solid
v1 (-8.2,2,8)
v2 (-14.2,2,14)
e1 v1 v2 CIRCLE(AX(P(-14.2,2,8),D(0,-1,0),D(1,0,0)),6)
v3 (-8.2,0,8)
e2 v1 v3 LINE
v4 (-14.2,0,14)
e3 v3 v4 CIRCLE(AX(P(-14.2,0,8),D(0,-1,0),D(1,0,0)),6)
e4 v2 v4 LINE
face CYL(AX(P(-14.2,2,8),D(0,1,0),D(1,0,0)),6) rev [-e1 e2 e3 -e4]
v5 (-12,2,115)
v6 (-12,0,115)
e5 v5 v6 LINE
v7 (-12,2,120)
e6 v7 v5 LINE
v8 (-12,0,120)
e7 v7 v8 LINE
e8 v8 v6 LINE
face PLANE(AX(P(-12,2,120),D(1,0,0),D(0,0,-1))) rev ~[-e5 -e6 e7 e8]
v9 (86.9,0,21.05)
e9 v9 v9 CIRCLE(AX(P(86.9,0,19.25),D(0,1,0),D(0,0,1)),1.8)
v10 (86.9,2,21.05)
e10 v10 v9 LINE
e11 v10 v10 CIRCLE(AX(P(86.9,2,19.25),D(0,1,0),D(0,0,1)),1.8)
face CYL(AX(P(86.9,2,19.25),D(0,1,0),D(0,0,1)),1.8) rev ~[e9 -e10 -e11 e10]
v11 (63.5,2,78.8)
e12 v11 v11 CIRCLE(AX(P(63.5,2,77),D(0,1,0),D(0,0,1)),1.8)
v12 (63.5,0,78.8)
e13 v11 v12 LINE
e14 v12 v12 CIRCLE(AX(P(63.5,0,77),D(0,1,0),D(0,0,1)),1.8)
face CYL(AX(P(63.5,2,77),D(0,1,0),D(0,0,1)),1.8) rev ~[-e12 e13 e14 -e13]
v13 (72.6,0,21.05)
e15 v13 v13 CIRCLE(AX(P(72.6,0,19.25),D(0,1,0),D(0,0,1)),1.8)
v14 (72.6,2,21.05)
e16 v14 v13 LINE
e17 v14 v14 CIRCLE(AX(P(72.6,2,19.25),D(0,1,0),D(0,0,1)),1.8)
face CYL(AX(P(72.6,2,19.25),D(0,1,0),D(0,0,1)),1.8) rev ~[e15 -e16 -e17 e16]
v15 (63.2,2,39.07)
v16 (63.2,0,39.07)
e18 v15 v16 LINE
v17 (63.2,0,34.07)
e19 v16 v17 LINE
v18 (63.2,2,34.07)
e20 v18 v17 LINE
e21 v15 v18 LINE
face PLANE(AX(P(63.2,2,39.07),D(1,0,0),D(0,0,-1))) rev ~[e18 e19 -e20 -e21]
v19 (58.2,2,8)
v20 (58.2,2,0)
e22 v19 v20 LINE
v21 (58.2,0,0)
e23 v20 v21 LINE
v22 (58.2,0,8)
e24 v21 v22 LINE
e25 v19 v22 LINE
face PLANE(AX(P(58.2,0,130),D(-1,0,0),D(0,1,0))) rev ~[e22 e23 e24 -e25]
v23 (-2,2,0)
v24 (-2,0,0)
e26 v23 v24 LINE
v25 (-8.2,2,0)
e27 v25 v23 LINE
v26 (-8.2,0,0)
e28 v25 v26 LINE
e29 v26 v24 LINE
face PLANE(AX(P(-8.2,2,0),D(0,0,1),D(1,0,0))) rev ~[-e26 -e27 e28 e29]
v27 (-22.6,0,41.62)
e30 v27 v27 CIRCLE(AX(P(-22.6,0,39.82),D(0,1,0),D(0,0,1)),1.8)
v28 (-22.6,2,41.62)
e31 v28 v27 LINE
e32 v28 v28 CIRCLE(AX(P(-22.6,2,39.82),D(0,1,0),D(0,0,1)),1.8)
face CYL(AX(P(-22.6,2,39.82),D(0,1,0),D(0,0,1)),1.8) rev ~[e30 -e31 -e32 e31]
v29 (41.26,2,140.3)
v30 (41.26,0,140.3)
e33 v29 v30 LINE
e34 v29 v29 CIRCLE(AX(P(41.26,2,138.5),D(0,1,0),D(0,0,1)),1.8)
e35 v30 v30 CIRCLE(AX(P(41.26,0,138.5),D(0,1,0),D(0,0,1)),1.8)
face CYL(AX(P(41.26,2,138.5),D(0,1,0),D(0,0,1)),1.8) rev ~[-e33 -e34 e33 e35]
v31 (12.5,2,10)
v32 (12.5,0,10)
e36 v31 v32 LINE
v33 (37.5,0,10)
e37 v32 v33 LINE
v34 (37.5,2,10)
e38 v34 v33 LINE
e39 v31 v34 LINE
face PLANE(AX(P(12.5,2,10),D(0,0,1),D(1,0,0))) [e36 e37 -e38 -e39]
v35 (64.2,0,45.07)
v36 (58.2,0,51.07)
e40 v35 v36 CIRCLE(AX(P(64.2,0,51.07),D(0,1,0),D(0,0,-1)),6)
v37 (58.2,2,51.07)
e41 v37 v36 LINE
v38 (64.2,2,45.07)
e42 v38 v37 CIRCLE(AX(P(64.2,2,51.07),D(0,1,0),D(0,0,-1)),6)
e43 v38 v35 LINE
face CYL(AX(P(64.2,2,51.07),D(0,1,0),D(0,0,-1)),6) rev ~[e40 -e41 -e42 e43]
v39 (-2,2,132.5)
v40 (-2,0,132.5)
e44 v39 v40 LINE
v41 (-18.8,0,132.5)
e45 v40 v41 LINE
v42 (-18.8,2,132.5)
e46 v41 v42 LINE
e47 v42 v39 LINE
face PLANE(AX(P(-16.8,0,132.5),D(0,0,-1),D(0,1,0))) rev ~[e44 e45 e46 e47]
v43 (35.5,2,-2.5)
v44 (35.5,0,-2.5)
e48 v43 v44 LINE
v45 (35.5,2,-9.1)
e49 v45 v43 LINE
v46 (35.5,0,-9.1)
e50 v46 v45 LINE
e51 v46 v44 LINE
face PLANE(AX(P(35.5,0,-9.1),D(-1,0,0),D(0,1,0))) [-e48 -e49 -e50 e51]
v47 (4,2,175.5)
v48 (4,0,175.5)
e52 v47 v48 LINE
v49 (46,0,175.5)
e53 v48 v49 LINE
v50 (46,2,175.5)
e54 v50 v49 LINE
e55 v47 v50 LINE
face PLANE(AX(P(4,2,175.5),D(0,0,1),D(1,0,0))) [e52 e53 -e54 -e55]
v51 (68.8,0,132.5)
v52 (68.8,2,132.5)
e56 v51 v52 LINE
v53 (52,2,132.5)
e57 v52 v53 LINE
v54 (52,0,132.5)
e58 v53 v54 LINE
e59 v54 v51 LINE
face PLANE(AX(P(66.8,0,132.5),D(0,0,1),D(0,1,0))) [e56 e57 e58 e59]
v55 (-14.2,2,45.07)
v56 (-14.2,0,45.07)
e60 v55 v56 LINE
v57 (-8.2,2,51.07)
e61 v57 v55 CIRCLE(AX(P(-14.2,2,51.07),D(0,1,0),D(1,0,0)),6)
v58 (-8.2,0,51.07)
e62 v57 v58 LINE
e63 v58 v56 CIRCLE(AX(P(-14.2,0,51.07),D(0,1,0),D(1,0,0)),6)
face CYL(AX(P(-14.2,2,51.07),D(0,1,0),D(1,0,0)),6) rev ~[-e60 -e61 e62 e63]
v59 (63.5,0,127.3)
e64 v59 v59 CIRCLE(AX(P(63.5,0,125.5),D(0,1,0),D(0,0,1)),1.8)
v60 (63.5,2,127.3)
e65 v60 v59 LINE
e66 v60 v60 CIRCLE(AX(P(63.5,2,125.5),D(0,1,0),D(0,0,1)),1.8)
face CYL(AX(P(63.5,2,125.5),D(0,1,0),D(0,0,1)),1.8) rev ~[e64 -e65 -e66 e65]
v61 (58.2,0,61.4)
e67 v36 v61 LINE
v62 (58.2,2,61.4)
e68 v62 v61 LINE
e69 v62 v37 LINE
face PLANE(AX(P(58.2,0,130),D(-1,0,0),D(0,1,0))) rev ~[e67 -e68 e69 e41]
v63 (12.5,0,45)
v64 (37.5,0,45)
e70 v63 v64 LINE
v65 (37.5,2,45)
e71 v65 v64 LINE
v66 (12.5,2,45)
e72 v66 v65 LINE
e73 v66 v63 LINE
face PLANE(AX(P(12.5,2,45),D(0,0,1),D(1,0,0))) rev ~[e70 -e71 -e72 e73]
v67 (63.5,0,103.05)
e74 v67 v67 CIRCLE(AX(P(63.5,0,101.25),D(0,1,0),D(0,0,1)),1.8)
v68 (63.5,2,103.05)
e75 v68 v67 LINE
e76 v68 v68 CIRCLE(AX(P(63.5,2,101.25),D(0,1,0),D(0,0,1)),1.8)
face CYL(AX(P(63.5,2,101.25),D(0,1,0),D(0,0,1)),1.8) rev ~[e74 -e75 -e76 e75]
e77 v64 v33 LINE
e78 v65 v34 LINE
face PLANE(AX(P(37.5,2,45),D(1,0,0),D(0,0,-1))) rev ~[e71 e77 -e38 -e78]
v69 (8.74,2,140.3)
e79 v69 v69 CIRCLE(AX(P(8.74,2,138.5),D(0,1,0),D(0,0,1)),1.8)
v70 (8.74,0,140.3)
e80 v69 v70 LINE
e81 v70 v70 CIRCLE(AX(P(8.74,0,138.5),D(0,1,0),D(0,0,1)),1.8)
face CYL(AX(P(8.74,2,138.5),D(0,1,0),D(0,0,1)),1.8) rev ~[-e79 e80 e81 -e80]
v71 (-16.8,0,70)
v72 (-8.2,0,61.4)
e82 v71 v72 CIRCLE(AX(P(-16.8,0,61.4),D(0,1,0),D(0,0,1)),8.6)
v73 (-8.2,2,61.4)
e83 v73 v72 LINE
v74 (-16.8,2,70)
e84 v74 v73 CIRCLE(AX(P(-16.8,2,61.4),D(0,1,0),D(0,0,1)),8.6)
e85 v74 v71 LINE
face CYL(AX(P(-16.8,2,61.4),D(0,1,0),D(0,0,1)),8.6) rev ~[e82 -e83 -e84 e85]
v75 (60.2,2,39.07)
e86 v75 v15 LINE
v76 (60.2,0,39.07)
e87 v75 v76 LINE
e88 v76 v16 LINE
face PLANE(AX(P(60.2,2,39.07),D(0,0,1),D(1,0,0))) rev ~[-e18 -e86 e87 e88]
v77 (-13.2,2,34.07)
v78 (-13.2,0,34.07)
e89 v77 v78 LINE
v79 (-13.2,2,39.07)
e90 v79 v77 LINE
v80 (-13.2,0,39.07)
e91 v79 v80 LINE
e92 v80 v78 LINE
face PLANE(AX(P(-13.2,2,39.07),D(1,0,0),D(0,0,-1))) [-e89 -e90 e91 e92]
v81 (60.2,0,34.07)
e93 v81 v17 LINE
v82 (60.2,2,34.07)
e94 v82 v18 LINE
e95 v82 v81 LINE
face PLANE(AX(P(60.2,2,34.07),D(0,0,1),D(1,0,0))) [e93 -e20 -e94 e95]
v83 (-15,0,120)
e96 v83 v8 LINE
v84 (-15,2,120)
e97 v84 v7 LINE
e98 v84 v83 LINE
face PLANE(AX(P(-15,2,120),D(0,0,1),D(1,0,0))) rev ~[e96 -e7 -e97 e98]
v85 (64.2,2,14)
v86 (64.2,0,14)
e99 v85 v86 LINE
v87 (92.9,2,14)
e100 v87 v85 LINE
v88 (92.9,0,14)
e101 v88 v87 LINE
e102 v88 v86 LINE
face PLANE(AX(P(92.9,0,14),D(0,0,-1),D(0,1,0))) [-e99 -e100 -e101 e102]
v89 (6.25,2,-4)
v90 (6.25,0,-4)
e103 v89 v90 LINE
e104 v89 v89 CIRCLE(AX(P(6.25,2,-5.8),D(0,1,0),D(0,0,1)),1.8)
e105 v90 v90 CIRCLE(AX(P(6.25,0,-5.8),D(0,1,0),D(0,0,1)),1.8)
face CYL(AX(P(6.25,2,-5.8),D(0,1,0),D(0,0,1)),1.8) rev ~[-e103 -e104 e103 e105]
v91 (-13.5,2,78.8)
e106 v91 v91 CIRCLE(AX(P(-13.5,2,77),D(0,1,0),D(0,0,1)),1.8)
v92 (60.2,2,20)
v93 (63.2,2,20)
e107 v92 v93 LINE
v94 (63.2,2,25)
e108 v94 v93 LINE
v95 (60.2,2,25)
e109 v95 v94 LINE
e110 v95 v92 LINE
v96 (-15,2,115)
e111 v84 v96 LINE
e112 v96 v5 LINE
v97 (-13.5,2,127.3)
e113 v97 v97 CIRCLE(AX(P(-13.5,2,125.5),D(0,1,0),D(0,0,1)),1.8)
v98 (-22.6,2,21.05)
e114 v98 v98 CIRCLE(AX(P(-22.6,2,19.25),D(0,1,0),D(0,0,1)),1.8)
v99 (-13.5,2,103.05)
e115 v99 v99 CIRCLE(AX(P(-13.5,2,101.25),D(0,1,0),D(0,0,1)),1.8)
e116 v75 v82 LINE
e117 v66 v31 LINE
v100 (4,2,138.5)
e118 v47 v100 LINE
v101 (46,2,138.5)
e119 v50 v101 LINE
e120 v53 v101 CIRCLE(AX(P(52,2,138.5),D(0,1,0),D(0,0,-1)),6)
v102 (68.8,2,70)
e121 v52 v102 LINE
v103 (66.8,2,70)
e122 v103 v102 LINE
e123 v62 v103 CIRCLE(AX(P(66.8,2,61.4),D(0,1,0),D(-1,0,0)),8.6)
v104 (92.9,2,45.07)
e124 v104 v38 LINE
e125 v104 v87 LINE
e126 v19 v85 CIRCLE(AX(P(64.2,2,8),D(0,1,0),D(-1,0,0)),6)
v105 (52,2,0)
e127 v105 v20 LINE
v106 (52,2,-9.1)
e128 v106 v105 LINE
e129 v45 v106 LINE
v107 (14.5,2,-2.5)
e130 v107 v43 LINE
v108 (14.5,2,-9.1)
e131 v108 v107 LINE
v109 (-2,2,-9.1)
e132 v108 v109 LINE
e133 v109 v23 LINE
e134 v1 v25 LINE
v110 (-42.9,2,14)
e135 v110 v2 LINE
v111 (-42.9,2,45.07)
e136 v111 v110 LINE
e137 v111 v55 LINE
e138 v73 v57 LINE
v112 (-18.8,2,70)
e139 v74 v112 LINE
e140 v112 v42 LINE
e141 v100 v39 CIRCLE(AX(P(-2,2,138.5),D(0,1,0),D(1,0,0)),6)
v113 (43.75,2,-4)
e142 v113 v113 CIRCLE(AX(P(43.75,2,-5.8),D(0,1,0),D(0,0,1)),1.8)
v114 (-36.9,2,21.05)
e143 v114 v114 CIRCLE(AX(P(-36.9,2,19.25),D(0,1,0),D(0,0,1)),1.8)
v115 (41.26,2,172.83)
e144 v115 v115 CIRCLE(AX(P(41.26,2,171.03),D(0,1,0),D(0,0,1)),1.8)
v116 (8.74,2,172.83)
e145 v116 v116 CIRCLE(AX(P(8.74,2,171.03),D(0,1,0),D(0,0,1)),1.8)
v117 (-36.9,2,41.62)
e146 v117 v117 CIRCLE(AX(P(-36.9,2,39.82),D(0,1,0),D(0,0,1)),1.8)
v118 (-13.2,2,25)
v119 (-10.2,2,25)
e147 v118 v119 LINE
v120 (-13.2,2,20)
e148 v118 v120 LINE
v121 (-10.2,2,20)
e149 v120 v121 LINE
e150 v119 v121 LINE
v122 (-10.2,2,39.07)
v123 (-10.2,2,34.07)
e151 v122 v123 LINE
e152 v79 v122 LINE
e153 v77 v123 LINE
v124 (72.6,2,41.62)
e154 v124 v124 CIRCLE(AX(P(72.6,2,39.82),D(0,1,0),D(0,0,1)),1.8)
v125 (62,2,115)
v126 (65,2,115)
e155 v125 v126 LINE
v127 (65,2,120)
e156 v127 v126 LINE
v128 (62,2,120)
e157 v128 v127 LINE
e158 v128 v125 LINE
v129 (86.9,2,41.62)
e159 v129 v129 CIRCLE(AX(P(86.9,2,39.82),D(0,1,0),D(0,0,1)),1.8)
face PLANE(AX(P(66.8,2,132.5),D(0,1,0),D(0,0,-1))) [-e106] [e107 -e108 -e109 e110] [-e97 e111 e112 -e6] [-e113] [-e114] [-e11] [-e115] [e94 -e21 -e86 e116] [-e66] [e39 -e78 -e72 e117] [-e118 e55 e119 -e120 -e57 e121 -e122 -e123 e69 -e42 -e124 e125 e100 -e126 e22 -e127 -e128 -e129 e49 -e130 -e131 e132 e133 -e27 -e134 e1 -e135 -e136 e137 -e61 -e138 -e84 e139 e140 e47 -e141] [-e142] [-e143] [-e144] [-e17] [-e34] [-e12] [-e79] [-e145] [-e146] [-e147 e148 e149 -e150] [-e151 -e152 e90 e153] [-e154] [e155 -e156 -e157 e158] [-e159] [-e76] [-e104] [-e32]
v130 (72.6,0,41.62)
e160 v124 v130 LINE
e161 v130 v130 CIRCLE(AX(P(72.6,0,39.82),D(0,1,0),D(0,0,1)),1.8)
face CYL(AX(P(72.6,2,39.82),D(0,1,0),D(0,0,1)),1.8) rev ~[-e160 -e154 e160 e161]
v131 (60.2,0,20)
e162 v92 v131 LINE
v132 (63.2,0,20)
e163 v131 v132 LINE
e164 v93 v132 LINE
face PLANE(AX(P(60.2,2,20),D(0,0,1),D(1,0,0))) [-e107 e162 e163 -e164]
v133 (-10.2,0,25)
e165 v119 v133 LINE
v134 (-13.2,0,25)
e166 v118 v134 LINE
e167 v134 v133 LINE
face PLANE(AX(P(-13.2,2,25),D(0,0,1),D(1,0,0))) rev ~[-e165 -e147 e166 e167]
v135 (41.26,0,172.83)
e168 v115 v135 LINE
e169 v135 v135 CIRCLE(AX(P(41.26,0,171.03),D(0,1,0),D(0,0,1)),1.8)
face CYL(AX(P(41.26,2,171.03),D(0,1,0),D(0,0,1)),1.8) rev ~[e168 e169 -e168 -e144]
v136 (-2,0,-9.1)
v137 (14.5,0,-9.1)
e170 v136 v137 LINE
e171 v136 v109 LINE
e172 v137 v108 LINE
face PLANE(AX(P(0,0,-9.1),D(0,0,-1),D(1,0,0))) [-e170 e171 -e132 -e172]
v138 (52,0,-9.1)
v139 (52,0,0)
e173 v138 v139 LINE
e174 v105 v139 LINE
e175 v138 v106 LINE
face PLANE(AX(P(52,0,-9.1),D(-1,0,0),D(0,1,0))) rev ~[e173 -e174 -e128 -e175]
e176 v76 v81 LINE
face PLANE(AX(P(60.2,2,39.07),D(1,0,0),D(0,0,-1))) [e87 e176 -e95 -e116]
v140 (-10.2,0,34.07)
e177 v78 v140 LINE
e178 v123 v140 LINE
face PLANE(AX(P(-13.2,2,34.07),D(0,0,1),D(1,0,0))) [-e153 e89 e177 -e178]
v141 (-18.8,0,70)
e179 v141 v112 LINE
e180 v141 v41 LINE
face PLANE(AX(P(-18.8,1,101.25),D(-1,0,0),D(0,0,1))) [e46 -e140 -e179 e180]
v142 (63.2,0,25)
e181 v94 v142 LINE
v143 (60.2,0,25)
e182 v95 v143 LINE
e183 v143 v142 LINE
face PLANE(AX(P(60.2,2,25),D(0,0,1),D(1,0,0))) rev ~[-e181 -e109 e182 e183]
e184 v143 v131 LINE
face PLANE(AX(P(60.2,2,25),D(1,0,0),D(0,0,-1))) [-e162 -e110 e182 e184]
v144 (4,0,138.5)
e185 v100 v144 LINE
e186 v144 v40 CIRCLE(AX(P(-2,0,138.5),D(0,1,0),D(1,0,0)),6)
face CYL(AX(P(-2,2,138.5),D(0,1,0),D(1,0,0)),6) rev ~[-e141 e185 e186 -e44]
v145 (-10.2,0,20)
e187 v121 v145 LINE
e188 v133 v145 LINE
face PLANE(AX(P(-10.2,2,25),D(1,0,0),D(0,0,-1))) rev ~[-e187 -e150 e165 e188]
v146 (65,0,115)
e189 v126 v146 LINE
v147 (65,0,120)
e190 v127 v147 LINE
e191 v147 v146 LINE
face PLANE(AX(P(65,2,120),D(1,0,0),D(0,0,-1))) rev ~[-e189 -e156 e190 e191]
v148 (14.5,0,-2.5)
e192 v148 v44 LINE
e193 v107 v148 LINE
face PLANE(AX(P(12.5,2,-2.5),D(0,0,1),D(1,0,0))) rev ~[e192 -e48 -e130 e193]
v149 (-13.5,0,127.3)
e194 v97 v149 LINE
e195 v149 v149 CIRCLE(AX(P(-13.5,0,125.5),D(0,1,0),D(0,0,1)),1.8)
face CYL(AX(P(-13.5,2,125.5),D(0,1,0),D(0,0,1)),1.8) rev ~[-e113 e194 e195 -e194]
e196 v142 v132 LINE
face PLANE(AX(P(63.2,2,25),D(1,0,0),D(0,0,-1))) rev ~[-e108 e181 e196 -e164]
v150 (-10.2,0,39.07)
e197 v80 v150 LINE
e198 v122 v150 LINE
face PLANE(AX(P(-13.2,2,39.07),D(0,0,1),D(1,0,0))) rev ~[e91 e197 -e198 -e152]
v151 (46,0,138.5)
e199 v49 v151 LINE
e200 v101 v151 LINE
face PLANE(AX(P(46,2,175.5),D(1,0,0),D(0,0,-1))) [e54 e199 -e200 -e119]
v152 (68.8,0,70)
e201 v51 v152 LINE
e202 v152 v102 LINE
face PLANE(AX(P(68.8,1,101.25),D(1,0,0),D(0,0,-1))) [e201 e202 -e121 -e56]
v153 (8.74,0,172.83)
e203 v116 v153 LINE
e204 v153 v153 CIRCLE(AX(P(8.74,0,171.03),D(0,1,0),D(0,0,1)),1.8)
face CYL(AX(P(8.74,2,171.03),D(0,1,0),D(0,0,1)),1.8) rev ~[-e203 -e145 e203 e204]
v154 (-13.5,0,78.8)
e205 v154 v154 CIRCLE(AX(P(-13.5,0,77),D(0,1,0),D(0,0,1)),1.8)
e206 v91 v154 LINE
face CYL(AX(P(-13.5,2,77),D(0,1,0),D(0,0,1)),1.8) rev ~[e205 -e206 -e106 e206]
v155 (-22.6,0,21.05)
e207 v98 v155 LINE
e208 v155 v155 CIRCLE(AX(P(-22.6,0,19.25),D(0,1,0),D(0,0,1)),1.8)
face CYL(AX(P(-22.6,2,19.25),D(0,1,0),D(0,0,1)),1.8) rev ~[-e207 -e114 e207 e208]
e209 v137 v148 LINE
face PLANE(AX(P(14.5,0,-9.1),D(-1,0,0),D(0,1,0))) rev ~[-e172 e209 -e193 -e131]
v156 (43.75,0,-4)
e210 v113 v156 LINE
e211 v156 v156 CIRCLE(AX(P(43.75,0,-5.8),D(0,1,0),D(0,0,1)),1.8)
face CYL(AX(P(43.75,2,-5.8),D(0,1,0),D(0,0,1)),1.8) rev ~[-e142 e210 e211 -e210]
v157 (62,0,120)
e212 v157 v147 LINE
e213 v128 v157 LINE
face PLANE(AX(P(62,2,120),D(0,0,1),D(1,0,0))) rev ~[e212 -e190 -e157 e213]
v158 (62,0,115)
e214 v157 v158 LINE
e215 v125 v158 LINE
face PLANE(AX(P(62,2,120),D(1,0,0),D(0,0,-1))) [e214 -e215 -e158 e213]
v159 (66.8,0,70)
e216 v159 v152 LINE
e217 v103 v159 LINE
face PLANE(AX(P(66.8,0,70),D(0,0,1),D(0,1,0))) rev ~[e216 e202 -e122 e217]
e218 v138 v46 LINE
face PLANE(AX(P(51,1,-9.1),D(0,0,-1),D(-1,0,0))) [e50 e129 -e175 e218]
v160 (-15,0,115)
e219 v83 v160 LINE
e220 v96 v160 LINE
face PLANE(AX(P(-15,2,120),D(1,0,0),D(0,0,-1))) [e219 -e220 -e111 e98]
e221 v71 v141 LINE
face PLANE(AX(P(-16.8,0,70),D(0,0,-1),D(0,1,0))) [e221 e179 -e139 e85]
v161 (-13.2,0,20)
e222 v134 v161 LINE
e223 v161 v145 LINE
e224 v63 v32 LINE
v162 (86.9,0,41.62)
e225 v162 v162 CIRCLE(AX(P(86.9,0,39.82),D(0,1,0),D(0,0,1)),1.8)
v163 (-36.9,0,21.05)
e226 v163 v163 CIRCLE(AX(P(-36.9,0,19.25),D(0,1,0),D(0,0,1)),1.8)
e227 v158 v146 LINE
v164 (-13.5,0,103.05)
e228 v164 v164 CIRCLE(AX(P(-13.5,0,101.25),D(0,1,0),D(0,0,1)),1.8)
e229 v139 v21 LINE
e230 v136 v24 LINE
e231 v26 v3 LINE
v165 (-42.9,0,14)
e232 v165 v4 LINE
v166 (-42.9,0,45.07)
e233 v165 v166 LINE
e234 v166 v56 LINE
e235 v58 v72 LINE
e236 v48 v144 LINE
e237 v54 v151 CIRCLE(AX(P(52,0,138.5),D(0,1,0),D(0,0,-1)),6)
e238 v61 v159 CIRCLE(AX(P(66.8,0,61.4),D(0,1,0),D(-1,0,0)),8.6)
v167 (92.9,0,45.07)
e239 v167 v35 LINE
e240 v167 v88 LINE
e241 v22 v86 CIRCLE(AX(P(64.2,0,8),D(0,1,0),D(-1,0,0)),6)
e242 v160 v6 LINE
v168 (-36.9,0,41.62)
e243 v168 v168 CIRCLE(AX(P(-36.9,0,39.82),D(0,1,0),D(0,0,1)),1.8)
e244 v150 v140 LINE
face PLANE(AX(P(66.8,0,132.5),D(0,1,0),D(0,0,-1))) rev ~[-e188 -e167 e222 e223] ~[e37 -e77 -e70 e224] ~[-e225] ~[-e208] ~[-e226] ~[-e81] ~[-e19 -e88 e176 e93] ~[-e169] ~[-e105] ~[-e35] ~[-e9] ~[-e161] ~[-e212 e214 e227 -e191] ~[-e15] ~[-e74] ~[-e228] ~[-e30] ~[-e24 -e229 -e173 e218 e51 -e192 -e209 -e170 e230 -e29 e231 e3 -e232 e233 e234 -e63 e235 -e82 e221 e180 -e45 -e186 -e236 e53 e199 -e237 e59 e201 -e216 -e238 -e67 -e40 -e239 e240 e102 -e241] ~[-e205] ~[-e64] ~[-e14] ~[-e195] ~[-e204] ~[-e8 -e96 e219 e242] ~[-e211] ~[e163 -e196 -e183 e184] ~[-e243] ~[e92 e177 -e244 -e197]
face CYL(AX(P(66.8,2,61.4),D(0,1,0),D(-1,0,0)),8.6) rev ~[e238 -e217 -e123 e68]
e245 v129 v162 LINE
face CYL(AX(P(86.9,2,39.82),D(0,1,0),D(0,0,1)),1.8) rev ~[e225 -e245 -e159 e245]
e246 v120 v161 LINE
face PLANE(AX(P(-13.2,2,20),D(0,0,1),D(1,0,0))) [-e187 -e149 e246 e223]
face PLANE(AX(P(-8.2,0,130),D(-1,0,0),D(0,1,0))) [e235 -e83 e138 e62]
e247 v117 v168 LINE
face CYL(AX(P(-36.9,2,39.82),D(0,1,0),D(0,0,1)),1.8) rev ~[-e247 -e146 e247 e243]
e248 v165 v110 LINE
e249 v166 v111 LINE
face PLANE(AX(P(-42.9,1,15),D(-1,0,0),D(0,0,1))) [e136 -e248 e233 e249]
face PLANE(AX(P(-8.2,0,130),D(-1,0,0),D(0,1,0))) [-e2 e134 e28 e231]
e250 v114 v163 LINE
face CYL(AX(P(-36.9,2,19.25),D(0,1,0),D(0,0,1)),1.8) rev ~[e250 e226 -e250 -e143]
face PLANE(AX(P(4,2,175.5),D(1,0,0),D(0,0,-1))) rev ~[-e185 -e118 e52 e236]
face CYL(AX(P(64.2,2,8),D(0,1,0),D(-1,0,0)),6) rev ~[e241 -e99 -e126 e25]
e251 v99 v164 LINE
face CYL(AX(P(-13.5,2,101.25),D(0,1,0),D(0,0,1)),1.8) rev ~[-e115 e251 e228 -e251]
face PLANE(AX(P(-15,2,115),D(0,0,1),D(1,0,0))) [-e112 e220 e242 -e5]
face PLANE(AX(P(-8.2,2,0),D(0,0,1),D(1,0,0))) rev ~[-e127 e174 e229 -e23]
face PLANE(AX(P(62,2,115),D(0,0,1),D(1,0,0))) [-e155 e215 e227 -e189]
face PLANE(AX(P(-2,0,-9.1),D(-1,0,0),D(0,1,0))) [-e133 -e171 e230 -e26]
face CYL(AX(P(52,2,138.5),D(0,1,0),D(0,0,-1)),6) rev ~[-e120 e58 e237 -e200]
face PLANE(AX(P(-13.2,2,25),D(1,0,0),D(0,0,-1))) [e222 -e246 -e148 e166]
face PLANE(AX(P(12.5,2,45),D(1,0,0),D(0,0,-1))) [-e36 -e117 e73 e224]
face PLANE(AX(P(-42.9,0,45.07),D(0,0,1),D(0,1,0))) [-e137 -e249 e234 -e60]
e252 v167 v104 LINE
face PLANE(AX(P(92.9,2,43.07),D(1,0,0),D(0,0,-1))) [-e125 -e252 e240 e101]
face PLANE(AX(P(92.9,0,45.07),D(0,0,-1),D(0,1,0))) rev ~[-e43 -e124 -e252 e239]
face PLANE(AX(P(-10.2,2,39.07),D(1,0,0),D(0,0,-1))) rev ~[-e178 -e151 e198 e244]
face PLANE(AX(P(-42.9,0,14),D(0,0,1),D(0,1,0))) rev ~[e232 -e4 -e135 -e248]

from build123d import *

# Parameters (mm, degrees)
SKETCH1_W            = 50
SKETCH1_H            = 9.1
BOSS_EXTRUDE1_DEPTH  = 2
SKETCH2_W            = 25
SKETCH2_H            = 6.6
CUT_EXTRUDE1_DEPTH   = 2
SKETCH3_R            = 1.8
CUT_EXTRUDE2_DEPTH   = 2
SKETCH4_W            = 66.4
SKETCH4_H            = 130
BOSS_EXTRUDE2_DEPTH  = 2
SKETCH5_W            = 66.4
SKETCH5_H            = 2
BOSS_EXTRUDE3_DEPTH  = 2.5
SKETCH6_W            = 8.6
SKETCH6_H            = 62.5
BOSS_EXTRUDE4_DEPTH  = 2
SKETCH7_R            = 1.8
SKETCH7_W            = 3
SKETCH7_H            = 5
CUT_EXTRUDE3_DEPTH   = 2
SKETCH8_W            = 25
SKETCH8_H            = 45
CUT_EXTRUDE4_DEPTH   = 20
SKETCH9_W            = 25
SKETCH9_H            = 10
BOSS_EXTRUDE5_DEPTH  = 2
SKETCH10_W           = 34.7
SKETCH10_H           = 27.07
BOSS_EXTRUDE6_DEPTH  = 2
SKETCH11_R           = 1.8
CUT_EXTRUDE5_DEPTH   = 2
SKETCH12_R           = 1.8
CUT_EXTRUDE6_DEPTH   = 2
SKETCH13_W           = 2
SKETCH13_H           = 2
BOSS_EXTRUDE7_DEPTH  = 44
SKETCH14_W           = 2
SKETCH14_H           = 2
BOSS_EXTRUDE8_DEPTH  = 46
BOSS_EXTRUDE9_DEPTH  = 2
SKETCH16_W           = 42
SKETCH16_H           = 43
BOSS_EXTRUDE10_DEPTH = 2
SKETCH18_R           = 1.8
CUT_EXTRUDE7_DEPTH   = 2
BOSS_EXTRUDE11_DEPTH = 2
BOSS_EXTRUDE12_DEPTH = 2
SKETCH21_W           = 2
SKETCH21_H           = 2
BOSS_EXTRUDE13_DEPTH = 10
SKETCH22_W           = 62.5
SKETCH22_H           = 2
BOSS_EXTRUDE14_DEPTH = 2
SKETCH23_W           = 62.5
SKETCH23_H           = 2
BOSS_EXTRUDE15_DEPTH = 2
SKETCH25_W           = 3
SKETCH25_H           = 5
CUT_EXTRUDE8_DEPTH   = 10


with BuildPart() as part:
    # Sketch1 → Boss-Extrude1 (new body)
    with BuildSketch(Plane(origin=(0, 0, 0), x_dir=(1, 0, 0), z_dir=(0, 1, 0))):
        with Locations((25, 4.55)):
            Rectangle(SKETCH1_W, SKETCH1_H)
    extrude(amount=BOSS_EXTRUDE1_DEPTH)

    # Sketch2 → Cut-Extrude1 (cut)
    with BuildSketch(Plane(origin=(0, 2, 0), x_dir=(1, 0, 0), z_dir=(0, 1, 0))):
        with Locations((25, 5.8)):
            Rectangle(SKETCH2_W, SKETCH2_H)
    extrude(amount=-CUT_EXTRUDE1_DEPTH, mode=Mode.SUBTRACT)

    # Sketch3 → Cut-Extrude2 (cut)
    with BuildSketch(Plane(origin=(0, 2, 0), x_dir=(1, 0, 0), z_dir=(0, 1, 0))):
        with Locations(Location((6.25, 5.8, 0), (0, 0, 270))):
            Circle(SKETCH3_R)
        with Locations(Location((43.75, 5.8, 0), (0, 0, 270))):
            Circle(SKETCH3_R)
    extrude(amount=-CUT_EXTRUDE2_DEPTH, mode=Mode.SUBTRACT)

    # Sketch4 → Boss-Extrude2 (add)
    with BuildSketch(Plane(origin=(0, 2, 0), x_dir=(1, 0, 0), z_dir=(0, 1, 0))):
        with Locations((25, -65)):
            Rectangle(SKETCH4_W, SKETCH4_H)
    extrude(amount=-BOSS_EXTRUDE2_DEPTH)

    # Sketch5 → Boss-Extrude3 (add)
    with BuildSketch(Plane.XY.offset(130)):
        with Locations((25, 1)):
            Rectangle(SKETCH5_W, SKETCH5_H)
    extrude(amount=BOSS_EXTRUDE3_DEPTH)

    # Sketch6 → Boss-Extrude4 (add)
    with BuildSketch(Plane(origin=(0, 2, 0), x_dir=(1, 0, 0), z_dir=(0, 1, 0))):
        with Locations((-12.5, -101.25)):
            Rectangle(SKETCH6_W, SKETCH6_H)
        with Locations((62.5, -101.25)):
            Rectangle(SKETCH6_W, SKETCH6_H)
    extrude(amount=-BOSS_EXTRUDE4_DEPTH)

    # Sketch7 → Cut-Extrude3 (cut)
    with BuildSketch(Plane(origin=(0, 2, 0), x_dir=(1, 0, 0), z_dir=(0, 1, 0))):
        with Locations(Location((-13.5, -77, 0), (0, 0, 270))):
            Circle(SKETCH7_R)
        with Locations(Location((-13.5, -101.25, 0), (0, 0, 270))):
            Circle(SKETCH7_R)
        with Locations(Location((-13.5, -125.5, 0), (0, 0, 270))):
            Circle(SKETCH7_R)
        with Locations(Location((63.5, -77, 0), (0, 0, 270))):
            Circle(SKETCH7_R)
        with Locations(Location((63.5, -101.25, 0), (0, 0, 270))):
            Circle(SKETCH7_R)
        with Locations(Location((63.5, -125.5, 0), (0, 0, 270))):
            Circle(SKETCH7_R)
        with Locations((-13.5, -117.5)):
            Rectangle(SKETCH7_W, SKETCH7_H)
        with Locations((63.5, -117.5)):
            Rectangle(SKETCH7_W, SKETCH7_H)
    extrude(amount=-CUT_EXTRUDE3_DEPTH, mode=Mode.SUBTRACT)

    # Sketch8 → Cut-Extrude4 (cut)
    with BuildSketch(Plane(origin=(0, 2, 0), x_dir=(1, 0, 0), z_dir=(0, 1, 0))):
        with Locations((25, -22.5)):
            Rectangle(SKETCH8_W, SKETCH8_H)
    extrude(amount=-CUT_EXTRUDE4_DEPTH, mode=Mode.SUBTRACT)

    # Sketch9 → Boss-Extrude5 (add)
    with BuildSketch(Plane(origin=(0, 2, 0), x_dir=(1, 0, 0), z_dir=(0, 1, 0))):
        with Locations((25, -5)):
            Rectangle(SKETCH9_W, SKETCH9_H)
    extrude(amount=-BOSS_EXTRUDE5_DEPTH)

    # Sketch10 → Boss-Extrude6 (add)
    with BuildSketch(Plane(origin=(0, 2, 0), x_dir=(1, 0, 0), z_dir=(0, 1, 0))):
        with Locations((-25.55, -29.535)):
            Rectangle(SKETCH10_W, SKETCH10_H)
        with Locations((75.55, -29.535)):
            Rectangle(SKETCH10_W, SKETCH10_H)
    extrude(amount=-BOSS_EXTRUDE6_DEPTH)

    # Sketch11 → Cut-Extrude5 (cut)
    with BuildSketch(Plane(origin=(0, 2, 0), x_dir=(1, 0, 0), z_dir=(0, 1, 0))):
        with Locations(Location((-36.9, -19.25, 0), (0, 0, 270))):
            Circle(SKETCH11_R)
        with Locations(Location((-36.9, -39.82, 0), (0, 0, 270))):
            Circle(SKETCH11_R)
        with Locations(Location((-22.6, -19.25, 0), (0, 0, 270))):
            Circle(SKETCH11_R)
        with Locations(Location((-22.6, -39.82, 0), (0, 0, 270))):
            Circle(SKETCH11_R)
    extrude(amount=-CUT_EXTRUDE5_DEPTH, mode=Mode.SUBTRACT)

    # Sketch12 → Cut-Extrude6 (cut)
    with BuildSketch(Plane(origin=(0, 2, 0), x_dir=(1, 0, 0), z_dir=(0, 1, 0))):
        with Locations(Location((72.6, -19.25, 0), (0, 0, 270))):
            Circle(SKETCH12_R)
        with Locations(Location((86.9, -19.25, 0), (0, 0, 270))):
            Circle(SKETCH12_R)
        with Locations(Location((72.6, -39.82, 0), (0, 0, 270))):
            Circle(SKETCH12_R)
        with Locations(Location((86.9, -39.82, 0), (0, 0, 270))):
            Circle(SKETCH12_R)
    extrude(amount=-CUT_EXTRUDE6_DEPTH, mode=Mode.SUBTRACT)

    # Sketch13 → Boss-Extrude7 (add)
    with BuildSketch(Plane.ZY.offset(42.9)):
        with Locations((15, 1)):
            Rectangle(SKETCH13_W, SKETCH13_H)
        with Locations((44.07, 1)):
            Rectangle(SKETCH13_W, SKETCH13_H)
    extrude(amount=-BOSS_EXTRUDE7_DEPTH)

    # Sketch14 → Boss-Extrude8 (add)
    with BuildSketch(Plane(origin=(92.9, 0, 0), x_dir=(0, 0, -1), z_dir=(1, 0, 0))):
        with Locations((-15, 1)):
            Rectangle(SKETCH14_W, SKETCH14_H)
        with Locations((-44.07, 1)):
            Rectangle(SKETCH14_W, SKETCH14_H)
    extrude(amount=-BOSS_EXTRUDE8_DEPTH)

    # Sketch15 → Boss-Extrude9 (add)
    with BuildSketch(Plane(origin=(0, 2, 0), x_dir=(1, 0, 0), z_dir=(0, 1, 0))):
        with BuildLine():
            Line((-8.2, -14), (-8.2, -8))
            ThreePointArc((-8.2, -8), (-9.957359313, -12.242640687), (-14.2, -14))
            Line((-14.2, -14), (-8.2, -14))
        make_face()
        with BuildLine():
            Line((-14.2, -45.07), (-8.2, -45.07))
            Line((-8.2, -45.07), (-8.2, -51.07))
            ThreePointArc((-8.2, -51.07), (-9.957359313, -46.827359313), (-14.2, -45.07))
        make_face()
        with BuildLine():
            ThreePointArc((64.2, -45.07), (59.957359313, -46.827359313), (58.2, -51.07))
            Line((58.2, -51.07), (58.2, -45.07))
            Line((58.2, -45.07), (64.2, -45.07))
        make_face()
        with BuildLine():
            ThreePointArc((58.2, -8), (59.957359313, -12.242640687), (64.2, -14))
            Line((64.2, -14), (58.2, -14))
            Line((58.2, -14), (58.2, -8))
        make_face()
    extrude(amount=-BOSS_EXTRUDE9_DEPTH)

    # Sketch16 → Boss-Extrude10 (add)
    with BuildSketch(Plane(origin=(0, 2, 0), x_dir=(1, 0, 0), z_dir=(0, 1, 0))):
        with Locations((25, -154)):
            Rectangle(SKETCH16_W, SKETCH16_H)
    extrude(amount=-BOSS_EXTRUDE10_DEPTH)

    # Sketch18 → Cut-Extrude7 (cut)
    with BuildSketch(Plane(origin=(0, 2, 0), x_dir=(1, 0, 0), z_dir=(0, 1, 0))):
        with Locations(Location((8.74, -171.03, 0), (0, 0, 270))):
            Circle(SKETCH18_R)
        with Locations(Location((41.26, -171.03, 0), (0, 0, 270))):
            Circle(SKETCH18_R)
        with Locations(Location((8.74, -138.5, 0), (0, 0, 270))):
            Circle(SKETCH18_R)
        with Locations(Location((41.26, -138.5, 0), (0, 0, 270))):
            Circle(SKETCH18_R)
    extrude(amount=-CUT_EXTRUDE7_DEPTH, mode=Mode.SUBTRACT)

    # Sketch19 → Boss-Extrude11 (add)
    with BuildSketch(Plane(origin=(0, 2, 0), x_dir=(1, 0, 0), z_dir=(0, 1, 0))):
        with BuildLine():
            ThreePointArc((-16.8, -70), (-10.718881682, -67.481118318), (-8.2, -61.4))
            Line((-8.2, -61.4), (-8.2, -70))
            Line((-8.2, -70), (-16.8, -70))
        make_face()
        with BuildLine():
            ThreePointArc((58.2, -61.4), (60.718881682, -67.481118318), (66.8, -70))
            Line((66.8, -70), (58.2, -70))
            Line((58.2, -70), (58.2, -61.4))
        make_face()
    extrude(amount=-BOSS_EXTRUDE11_DEPTH)

    # Sketch20 → Boss-Extrude12 (add)
    with BuildSketch(Plane(origin=(0, 2, 0), x_dir=(1, 0, 0), z_dir=(0, 1, 0))):
        with BuildLine():
            Line((-2, -132.5), (4, -132.5))
            Line((4, -132.5), (4, -138.5))
            ThreePointArc((4, -138.5), (2.242640687, -134.257359313), (-2, -132.5))
        make_face()
        with BuildLine():
            ThreePointArc((52, -132.5), (47.757359313, -134.257359313), (46, -138.5))
            Line((46, -138.5), (46, -132.5))
            Line((46, -132.5), (52, -132.5))
        make_face()
    extrude(amount=-BOSS_EXTRUDE12_DEPTH)

    # Sketch21 → Boss-Extrude13 (add)
    with BuildSketch(Plane(origin=(0, 0, -9.1), x_dir=(-1, 0, 0), z_dir=(0, 0, -1))):
        with Locations((-51, 1)):
            Rectangle(SKETCH21_W, SKETCH21_H)
        with Locations((-36.5, 1)):
            Rectangle(SKETCH21_W, SKETCH21_H)
        with Locations((-13.5, 1)):
            Rectangle(SKETCH21_W, SKETCH21_H)
        with Locations((1, 1)):
            Rectangle(SKETCH21_W, SKETCH21_H)
    extrude(amount=-BOSS_EXTRUDE13_DEPTH)

    # Sketch22 → Boss-Extrude14 (add)
    with BuildSketch(Plane.ZY.offset(16.8)):
        with Locations((101.25, 1)):
            Rectangle(SKETCH22_W, SKETCH22_H)
    extrude(amount=BOSS_EXTRUDE14_DEPTH)

    # Sketch23 → Boss-Extrude15 (add)
    with BuildSketch(Plane(origin=(66.8, 0, 0), x_dir=(0, 0, -1), z_dir=(1, 0, 0))):
        with Locations((-101.25, 1)):
            Rectangle(SKETCH23_W, SKETCH23_H)
    extrude(amount=BOSS_EXTRUDE15_DEPTH)

    # Sketch25 → Cut-Extrude8 (cut)
    with BuildSketch(Plane(origin=(0, 2, 0), x_dir=(1, 0, 0), z_dir=(0, 1, 0))):
        with Locations((-11.7, -22.5)):
            Rectangle(SKETCH25_W, SKETCH25_H)
        with Locations((-11.7, -36.57)):
            Rectangle(SKETCH25_W, SKETCH25_H)
        with Locations((61.7, -22.5)):
            Rectangle(SKETCH25_W, SKETCH25_H)
        with Locations((61.7, -36.57)):
            Rectangle(SKETCH25_W, SKETCH25_H)
    extrude(amount=-CUT_EXTRUDE8_DEPTH, mode=Mode.SUBTRACT)


solid = part.part
